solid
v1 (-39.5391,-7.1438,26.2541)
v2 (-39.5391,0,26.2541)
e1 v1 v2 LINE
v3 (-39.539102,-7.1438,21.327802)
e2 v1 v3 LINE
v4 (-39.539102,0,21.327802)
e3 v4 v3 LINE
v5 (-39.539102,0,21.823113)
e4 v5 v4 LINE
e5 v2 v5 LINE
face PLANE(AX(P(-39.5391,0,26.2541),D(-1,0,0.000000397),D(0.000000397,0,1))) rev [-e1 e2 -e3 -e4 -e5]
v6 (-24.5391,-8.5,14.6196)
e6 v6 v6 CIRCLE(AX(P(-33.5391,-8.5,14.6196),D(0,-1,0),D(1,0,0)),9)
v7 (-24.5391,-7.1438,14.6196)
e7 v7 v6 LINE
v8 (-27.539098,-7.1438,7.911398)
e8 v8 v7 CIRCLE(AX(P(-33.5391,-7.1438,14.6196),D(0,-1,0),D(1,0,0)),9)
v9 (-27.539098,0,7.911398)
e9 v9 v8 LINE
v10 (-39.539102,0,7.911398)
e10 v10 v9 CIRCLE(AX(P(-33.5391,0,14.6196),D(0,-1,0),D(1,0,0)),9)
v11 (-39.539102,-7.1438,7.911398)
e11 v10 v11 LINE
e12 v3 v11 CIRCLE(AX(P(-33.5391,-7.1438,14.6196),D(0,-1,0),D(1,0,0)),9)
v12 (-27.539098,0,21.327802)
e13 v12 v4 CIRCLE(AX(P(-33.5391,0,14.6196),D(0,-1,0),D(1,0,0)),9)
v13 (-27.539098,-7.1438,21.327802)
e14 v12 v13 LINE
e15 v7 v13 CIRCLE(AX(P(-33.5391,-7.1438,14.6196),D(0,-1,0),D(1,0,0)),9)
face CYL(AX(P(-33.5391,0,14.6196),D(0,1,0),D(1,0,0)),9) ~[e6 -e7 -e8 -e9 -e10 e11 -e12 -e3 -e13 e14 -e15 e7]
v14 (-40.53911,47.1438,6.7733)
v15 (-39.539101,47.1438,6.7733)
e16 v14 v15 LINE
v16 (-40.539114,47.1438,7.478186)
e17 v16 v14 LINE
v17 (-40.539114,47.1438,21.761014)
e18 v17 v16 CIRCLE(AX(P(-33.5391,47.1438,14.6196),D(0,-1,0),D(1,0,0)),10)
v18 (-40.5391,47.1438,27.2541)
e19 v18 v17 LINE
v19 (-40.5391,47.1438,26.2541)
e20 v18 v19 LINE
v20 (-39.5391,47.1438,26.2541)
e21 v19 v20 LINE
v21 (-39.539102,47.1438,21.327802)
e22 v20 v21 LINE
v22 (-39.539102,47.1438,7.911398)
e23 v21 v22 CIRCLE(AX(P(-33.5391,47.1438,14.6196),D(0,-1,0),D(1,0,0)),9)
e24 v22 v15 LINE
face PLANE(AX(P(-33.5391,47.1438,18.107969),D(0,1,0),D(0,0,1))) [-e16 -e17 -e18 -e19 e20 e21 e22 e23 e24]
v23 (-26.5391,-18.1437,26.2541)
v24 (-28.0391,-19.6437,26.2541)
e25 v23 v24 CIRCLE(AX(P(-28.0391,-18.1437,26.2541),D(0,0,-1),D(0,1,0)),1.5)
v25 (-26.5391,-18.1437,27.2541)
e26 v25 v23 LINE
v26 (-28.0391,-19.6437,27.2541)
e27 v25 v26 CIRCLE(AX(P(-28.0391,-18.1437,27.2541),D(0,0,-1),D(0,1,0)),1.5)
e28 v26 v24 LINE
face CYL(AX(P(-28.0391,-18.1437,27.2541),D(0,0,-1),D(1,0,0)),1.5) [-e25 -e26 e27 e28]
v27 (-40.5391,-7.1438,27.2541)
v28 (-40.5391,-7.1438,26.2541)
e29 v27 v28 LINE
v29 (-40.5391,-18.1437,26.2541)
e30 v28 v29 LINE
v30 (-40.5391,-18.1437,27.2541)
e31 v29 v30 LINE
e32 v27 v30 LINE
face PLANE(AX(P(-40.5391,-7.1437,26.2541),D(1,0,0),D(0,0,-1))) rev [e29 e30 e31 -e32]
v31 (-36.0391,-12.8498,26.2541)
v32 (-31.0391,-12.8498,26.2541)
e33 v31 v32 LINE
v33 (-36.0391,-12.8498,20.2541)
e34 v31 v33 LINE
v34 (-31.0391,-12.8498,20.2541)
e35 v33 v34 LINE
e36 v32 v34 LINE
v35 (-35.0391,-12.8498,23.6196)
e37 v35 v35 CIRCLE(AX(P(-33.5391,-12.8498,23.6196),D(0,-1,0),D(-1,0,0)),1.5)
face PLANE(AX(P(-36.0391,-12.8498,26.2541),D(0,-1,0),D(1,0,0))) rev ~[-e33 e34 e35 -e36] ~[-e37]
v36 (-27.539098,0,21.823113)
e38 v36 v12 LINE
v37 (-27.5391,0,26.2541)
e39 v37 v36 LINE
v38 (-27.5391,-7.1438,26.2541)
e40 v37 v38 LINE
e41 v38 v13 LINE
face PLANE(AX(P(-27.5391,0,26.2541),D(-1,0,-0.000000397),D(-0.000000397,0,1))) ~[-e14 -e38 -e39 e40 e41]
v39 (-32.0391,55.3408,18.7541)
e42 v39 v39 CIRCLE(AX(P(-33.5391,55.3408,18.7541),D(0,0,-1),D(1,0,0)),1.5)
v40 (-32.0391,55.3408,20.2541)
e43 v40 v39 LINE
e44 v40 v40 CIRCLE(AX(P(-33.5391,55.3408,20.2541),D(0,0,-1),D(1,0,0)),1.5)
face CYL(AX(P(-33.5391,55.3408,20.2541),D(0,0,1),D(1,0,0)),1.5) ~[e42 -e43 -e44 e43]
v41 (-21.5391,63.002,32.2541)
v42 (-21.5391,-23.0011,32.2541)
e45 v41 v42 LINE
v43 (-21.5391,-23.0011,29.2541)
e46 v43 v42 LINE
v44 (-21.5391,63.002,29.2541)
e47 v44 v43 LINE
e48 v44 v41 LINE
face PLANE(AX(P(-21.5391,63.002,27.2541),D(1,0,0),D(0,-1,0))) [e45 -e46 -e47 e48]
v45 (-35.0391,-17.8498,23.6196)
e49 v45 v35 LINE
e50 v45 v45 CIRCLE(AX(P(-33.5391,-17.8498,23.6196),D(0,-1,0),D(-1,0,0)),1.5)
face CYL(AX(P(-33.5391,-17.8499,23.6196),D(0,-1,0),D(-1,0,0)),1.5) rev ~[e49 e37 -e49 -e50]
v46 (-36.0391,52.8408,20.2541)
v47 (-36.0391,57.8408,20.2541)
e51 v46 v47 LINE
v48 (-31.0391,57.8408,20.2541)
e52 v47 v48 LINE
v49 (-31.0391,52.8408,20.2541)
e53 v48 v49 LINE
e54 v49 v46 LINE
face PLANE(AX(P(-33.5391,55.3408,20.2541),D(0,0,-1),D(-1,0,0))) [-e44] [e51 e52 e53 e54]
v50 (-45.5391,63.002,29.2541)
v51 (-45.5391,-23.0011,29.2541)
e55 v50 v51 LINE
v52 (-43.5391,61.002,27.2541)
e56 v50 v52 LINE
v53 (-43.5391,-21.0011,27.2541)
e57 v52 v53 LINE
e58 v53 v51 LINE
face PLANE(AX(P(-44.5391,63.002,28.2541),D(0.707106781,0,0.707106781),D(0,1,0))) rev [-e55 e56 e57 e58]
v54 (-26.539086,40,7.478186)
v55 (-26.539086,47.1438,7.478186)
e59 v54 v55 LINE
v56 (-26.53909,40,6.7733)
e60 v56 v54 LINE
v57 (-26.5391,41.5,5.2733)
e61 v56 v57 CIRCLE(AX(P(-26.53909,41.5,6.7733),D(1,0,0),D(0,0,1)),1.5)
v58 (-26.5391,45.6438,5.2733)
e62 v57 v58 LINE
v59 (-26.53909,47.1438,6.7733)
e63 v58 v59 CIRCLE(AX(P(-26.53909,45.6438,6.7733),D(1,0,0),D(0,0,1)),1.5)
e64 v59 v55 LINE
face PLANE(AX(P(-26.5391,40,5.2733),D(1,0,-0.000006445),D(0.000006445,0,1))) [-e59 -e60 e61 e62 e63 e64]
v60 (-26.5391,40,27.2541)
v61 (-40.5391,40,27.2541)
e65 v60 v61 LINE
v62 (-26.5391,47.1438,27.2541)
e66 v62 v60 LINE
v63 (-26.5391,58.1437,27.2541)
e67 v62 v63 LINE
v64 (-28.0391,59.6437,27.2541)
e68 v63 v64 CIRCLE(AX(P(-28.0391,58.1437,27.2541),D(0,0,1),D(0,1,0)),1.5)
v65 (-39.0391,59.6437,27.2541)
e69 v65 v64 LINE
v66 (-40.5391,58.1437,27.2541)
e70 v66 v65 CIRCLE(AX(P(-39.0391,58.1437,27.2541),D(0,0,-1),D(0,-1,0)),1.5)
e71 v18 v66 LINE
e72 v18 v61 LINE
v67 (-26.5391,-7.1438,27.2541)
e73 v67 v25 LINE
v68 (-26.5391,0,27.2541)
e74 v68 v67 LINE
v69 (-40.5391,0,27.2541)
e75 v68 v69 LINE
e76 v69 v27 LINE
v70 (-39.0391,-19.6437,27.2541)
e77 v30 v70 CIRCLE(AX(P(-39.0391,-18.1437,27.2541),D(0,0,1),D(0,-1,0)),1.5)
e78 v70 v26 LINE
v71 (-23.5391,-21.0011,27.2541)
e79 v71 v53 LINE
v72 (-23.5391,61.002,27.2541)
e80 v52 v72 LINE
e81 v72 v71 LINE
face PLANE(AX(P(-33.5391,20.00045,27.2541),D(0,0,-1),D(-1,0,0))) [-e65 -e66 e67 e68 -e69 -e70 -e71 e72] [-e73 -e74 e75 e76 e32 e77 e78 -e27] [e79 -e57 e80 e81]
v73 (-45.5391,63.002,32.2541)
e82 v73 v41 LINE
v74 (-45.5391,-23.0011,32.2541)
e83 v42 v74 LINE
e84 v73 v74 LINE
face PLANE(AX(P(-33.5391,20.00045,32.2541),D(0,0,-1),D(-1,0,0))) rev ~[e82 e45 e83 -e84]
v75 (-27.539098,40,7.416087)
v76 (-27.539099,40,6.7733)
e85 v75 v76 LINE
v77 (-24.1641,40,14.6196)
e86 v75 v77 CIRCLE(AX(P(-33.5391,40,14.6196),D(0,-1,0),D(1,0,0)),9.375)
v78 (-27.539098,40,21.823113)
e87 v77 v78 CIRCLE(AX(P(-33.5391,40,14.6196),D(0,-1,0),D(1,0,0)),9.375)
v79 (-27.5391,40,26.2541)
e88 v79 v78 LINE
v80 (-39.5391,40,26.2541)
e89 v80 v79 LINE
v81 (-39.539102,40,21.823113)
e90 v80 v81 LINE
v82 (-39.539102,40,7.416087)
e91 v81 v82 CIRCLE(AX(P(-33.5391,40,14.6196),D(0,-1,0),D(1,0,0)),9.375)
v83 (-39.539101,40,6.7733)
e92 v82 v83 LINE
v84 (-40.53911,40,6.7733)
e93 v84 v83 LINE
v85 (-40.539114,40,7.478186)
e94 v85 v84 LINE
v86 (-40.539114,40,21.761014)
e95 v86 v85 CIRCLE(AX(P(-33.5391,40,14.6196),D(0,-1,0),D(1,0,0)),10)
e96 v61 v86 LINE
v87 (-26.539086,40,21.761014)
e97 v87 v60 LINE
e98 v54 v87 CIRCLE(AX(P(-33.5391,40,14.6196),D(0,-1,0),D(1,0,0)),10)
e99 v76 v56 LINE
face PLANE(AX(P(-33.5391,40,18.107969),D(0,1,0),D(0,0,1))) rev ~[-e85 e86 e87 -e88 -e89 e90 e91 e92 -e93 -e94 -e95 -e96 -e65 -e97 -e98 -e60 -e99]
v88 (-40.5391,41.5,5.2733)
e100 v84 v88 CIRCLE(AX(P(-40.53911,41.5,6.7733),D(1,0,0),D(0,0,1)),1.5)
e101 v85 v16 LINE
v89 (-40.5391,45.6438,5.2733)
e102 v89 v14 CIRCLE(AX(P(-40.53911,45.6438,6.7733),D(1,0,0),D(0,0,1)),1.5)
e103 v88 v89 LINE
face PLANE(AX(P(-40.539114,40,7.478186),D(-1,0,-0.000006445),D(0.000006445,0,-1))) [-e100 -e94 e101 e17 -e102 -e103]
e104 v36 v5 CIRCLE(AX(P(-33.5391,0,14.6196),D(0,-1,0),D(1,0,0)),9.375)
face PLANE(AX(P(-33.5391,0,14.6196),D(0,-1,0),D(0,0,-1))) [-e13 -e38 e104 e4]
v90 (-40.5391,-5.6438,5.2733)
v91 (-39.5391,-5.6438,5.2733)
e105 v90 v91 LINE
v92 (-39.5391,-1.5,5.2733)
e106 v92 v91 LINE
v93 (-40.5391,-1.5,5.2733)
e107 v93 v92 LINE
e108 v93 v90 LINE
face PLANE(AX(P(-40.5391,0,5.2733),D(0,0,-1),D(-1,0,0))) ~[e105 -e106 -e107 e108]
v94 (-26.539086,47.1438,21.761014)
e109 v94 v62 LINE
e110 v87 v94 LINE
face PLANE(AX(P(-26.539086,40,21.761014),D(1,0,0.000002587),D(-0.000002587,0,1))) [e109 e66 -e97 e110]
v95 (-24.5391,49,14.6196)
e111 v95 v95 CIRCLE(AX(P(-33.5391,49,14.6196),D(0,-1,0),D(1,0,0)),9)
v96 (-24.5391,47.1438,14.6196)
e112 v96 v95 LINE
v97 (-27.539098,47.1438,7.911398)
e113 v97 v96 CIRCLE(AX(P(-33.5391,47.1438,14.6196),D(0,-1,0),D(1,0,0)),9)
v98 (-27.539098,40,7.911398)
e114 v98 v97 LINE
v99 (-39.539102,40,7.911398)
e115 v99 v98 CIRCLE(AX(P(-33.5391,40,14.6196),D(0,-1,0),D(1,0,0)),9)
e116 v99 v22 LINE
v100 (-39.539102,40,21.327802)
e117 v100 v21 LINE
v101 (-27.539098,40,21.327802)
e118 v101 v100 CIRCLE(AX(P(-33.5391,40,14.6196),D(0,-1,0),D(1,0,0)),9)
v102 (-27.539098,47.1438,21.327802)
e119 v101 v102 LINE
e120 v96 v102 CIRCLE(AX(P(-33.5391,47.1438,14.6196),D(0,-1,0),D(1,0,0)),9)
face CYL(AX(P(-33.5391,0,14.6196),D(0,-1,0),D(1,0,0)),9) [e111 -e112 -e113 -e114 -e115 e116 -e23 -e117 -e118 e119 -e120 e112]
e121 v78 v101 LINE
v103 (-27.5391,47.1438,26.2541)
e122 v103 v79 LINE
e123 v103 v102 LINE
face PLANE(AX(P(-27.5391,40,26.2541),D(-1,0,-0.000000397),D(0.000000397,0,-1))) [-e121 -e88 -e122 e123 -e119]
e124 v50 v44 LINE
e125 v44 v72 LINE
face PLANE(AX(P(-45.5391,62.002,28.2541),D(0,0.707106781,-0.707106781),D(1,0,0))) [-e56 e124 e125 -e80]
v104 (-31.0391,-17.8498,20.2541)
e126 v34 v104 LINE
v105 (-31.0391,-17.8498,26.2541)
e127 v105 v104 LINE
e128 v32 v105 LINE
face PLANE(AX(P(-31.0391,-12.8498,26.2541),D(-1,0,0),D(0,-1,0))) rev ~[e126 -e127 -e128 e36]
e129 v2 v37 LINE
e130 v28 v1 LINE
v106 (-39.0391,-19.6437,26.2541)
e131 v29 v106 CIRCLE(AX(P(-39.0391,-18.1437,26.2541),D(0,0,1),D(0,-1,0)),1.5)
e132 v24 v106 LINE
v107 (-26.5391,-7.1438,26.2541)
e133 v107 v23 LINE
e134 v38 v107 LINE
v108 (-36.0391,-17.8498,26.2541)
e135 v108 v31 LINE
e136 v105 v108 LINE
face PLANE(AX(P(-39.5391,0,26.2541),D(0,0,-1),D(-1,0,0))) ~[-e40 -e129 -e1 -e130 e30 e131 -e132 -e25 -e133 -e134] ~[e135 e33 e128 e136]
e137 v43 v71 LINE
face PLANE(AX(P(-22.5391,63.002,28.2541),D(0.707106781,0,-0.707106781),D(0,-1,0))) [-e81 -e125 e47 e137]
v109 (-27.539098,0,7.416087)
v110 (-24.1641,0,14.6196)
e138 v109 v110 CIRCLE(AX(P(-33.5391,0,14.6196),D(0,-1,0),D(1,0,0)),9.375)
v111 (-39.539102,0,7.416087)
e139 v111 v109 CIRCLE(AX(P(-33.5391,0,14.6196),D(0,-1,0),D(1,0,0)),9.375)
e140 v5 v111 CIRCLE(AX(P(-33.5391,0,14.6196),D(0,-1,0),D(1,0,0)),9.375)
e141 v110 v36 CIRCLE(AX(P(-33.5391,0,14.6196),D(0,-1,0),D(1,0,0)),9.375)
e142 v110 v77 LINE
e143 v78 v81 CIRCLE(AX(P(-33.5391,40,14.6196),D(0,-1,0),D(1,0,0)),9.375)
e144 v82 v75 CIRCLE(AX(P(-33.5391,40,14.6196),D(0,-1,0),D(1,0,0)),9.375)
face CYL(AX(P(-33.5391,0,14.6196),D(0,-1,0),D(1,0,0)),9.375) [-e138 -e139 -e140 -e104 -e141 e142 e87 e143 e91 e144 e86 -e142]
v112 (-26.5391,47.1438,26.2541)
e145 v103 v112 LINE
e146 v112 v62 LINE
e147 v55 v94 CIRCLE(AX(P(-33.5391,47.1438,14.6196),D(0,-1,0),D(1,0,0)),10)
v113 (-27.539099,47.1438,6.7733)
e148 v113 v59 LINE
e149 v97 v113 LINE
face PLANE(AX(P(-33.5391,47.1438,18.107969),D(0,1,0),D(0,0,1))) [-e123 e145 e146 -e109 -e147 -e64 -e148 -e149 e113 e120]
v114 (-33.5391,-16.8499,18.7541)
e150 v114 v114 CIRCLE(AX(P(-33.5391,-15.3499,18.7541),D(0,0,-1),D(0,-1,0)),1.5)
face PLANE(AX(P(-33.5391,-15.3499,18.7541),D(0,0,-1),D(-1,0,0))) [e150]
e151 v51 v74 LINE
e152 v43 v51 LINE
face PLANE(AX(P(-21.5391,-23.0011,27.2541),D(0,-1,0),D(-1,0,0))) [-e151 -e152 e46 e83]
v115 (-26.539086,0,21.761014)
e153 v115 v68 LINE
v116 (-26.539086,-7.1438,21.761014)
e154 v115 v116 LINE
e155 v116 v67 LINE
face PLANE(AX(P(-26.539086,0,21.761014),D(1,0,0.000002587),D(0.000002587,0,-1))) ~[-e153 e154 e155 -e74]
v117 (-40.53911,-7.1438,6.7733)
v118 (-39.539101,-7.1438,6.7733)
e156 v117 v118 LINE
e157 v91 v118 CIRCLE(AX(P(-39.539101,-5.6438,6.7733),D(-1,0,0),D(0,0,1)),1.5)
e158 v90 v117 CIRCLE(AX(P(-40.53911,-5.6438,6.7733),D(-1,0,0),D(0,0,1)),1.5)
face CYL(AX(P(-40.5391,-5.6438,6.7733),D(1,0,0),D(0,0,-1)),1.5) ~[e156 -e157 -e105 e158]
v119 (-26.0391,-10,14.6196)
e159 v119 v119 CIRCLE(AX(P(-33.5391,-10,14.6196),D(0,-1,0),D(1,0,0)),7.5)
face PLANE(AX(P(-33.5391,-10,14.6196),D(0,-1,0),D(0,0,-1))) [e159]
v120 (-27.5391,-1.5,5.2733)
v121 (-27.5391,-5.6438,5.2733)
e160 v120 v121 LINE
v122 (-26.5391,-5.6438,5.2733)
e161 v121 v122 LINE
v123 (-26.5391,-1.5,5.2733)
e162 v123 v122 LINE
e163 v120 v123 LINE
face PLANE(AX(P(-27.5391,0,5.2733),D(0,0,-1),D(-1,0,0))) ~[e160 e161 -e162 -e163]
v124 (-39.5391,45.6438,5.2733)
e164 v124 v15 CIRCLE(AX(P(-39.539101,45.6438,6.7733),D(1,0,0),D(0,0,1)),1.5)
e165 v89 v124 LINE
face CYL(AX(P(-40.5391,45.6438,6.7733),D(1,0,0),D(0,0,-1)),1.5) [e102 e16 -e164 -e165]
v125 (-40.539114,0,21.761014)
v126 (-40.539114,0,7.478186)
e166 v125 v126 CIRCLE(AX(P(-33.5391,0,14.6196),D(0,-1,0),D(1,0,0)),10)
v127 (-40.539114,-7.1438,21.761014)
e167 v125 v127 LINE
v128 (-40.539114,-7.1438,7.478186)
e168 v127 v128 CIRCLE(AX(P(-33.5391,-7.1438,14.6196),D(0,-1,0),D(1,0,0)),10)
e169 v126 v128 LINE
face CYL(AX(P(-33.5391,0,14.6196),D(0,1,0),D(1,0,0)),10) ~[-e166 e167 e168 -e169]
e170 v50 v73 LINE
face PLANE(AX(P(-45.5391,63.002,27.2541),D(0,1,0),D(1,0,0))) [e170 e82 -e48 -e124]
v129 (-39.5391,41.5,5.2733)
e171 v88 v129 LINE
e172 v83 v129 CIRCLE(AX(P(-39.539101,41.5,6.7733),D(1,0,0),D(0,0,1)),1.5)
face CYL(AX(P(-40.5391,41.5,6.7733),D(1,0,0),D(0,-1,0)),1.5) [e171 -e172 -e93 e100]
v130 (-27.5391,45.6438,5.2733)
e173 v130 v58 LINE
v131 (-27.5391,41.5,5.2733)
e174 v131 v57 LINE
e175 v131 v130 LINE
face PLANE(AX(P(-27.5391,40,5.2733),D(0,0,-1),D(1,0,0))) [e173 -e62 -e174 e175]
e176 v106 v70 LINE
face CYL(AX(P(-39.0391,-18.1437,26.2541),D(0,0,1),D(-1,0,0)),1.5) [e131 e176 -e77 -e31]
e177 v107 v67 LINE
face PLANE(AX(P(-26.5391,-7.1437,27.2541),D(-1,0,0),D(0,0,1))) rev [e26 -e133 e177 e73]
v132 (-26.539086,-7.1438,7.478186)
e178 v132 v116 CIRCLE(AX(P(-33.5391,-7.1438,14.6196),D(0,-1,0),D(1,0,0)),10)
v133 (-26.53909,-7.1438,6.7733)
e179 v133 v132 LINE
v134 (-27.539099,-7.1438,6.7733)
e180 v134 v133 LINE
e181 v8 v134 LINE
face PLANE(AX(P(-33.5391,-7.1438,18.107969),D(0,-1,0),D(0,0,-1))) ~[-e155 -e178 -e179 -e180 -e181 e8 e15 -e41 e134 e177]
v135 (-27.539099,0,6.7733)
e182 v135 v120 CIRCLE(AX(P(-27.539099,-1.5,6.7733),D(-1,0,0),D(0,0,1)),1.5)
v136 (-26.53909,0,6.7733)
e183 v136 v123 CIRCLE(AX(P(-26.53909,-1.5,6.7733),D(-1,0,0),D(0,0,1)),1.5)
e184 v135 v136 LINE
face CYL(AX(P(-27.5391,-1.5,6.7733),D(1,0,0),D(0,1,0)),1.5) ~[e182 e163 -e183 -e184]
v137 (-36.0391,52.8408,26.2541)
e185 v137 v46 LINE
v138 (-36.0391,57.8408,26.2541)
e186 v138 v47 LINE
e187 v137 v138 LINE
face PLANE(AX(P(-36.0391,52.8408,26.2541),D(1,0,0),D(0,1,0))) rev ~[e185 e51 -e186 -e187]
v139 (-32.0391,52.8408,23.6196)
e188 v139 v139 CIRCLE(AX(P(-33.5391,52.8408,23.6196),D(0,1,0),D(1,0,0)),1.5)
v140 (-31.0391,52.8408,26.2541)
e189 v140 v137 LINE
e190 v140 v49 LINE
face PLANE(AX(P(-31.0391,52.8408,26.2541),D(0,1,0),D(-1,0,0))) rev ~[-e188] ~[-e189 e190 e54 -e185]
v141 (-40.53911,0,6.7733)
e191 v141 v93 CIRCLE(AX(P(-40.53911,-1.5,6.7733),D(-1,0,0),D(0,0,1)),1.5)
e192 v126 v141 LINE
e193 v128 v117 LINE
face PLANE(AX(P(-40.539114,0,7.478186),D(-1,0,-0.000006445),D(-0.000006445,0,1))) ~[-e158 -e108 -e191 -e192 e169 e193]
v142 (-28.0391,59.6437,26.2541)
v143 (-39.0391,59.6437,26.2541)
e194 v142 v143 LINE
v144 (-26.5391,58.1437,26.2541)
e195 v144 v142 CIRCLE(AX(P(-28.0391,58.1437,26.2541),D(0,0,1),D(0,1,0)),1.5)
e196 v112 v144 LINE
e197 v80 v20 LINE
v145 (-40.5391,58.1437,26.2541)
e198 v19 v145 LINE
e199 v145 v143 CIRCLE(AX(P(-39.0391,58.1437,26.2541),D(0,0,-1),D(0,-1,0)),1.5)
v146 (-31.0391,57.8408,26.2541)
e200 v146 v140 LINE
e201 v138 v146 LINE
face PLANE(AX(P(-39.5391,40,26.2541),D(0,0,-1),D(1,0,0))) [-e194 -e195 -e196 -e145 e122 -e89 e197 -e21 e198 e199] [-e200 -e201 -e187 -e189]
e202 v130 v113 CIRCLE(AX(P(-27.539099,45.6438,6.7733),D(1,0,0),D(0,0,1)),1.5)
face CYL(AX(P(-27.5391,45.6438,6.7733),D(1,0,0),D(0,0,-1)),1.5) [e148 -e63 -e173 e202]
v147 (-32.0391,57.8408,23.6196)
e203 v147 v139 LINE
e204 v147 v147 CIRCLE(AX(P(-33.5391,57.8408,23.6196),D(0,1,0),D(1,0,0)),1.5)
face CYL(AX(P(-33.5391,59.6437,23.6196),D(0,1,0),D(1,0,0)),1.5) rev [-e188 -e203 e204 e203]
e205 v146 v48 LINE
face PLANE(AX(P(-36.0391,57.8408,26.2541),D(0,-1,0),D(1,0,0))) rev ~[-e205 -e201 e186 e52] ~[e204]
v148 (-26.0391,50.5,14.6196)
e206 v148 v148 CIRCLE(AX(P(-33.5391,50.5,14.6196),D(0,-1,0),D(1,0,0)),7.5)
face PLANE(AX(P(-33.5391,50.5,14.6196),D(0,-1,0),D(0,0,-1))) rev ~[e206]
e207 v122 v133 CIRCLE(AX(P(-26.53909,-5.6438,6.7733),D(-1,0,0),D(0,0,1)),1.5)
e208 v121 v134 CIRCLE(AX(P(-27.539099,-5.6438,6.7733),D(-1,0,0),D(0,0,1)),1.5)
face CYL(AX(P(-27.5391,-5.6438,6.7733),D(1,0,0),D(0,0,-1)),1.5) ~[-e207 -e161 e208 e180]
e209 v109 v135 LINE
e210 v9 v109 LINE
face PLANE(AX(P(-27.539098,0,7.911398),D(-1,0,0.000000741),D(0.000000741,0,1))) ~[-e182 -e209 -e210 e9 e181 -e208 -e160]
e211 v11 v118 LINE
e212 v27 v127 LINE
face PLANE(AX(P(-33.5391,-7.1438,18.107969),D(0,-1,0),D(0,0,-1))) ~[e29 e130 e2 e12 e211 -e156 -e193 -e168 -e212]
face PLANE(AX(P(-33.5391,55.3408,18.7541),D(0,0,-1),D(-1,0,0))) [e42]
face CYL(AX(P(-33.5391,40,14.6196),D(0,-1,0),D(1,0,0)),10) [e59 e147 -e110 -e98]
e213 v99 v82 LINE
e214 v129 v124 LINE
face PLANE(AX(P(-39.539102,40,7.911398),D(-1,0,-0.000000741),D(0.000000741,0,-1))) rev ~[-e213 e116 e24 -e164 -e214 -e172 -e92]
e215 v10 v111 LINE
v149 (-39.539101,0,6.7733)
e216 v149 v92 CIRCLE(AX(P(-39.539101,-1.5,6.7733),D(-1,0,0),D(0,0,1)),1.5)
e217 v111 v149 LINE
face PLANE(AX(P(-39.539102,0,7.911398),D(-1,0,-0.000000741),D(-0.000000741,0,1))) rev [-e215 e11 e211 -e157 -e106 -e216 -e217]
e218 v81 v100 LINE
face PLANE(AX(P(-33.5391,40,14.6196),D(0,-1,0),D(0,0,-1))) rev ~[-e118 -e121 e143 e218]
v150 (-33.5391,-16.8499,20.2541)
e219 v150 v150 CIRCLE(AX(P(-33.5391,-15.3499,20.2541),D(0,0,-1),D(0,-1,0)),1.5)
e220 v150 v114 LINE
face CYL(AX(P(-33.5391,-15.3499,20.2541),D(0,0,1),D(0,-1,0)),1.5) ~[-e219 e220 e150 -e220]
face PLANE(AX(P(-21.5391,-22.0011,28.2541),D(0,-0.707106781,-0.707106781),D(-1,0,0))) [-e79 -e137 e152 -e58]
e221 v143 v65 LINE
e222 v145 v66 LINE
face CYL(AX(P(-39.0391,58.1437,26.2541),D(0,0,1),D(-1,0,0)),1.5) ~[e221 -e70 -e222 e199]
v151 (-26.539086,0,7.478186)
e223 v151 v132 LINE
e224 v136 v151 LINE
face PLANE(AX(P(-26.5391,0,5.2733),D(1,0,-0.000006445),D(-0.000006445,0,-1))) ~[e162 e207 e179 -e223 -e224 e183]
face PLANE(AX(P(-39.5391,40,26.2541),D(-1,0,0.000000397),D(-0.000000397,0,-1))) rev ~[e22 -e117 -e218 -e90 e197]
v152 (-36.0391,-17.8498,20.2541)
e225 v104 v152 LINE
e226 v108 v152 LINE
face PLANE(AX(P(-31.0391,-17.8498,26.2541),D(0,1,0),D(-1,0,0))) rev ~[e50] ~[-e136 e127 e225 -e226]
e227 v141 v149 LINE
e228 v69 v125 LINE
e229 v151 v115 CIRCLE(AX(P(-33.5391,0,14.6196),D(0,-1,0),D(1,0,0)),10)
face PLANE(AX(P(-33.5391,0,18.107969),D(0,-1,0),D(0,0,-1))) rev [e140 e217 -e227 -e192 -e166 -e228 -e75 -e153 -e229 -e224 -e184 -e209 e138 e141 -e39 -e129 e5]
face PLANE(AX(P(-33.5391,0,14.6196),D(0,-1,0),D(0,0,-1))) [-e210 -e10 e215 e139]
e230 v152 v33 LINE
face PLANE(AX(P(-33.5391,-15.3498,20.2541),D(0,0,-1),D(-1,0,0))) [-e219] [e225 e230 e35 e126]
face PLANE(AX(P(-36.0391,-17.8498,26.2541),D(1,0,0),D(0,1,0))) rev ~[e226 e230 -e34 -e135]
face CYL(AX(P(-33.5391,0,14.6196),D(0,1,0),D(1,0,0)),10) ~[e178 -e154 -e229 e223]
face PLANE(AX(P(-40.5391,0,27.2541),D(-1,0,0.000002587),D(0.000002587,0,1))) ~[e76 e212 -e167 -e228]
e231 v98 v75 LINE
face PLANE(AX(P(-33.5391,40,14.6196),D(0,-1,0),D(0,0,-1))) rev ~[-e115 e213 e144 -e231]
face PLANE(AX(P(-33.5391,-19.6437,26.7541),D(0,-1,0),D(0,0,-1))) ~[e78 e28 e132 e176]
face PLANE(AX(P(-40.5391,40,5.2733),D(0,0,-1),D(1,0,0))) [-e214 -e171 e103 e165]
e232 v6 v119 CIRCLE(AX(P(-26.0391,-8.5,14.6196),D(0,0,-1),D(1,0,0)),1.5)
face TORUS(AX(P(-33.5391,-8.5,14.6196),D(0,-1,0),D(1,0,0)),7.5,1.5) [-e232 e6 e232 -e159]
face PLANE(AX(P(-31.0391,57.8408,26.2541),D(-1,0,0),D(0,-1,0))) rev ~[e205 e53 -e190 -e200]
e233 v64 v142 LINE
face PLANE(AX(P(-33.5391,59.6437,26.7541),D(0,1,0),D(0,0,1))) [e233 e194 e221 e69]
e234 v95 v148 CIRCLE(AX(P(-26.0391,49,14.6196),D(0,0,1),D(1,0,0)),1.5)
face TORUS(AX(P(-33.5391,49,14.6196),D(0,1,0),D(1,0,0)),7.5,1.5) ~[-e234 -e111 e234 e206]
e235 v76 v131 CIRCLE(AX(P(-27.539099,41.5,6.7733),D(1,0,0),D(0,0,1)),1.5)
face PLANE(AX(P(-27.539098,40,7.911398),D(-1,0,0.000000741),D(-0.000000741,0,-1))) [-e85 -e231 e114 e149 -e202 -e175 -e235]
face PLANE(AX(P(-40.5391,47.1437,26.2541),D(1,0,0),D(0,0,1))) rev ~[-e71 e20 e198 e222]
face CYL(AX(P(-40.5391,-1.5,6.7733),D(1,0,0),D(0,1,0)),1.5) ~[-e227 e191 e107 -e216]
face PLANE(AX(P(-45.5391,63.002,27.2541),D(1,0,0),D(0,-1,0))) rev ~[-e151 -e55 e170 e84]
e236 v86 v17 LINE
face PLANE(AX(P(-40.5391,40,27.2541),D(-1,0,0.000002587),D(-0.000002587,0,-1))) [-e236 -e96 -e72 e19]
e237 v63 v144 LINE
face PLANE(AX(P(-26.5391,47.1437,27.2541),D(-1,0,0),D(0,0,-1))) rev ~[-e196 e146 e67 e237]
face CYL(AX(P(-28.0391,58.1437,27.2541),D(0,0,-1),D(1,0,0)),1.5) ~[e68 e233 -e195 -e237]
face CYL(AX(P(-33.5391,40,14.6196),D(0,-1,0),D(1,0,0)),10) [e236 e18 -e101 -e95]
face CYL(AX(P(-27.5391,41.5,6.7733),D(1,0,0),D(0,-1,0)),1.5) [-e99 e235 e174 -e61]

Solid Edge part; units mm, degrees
sketch "Sketch1" plane through (0, 0, 0) normal (0, -1, 0) x (1, 0, 0)
  circle A0 centre (-33.5391, 14.6196) radius 9.375
extrude "Protrusion1" add sketch "Sketch1" against normal blind 40
sketch "Sketch2" plane through (-33.5391, 0, 14.6196) normal (0, -1, 0) x (1, 0, 0)
  circle A0 centre (0, 0) radius 9
extrude "ExtrudedProtrusion_2" add sketch "Sketch2" along normal blind 10 and the other way blind 50.5
fillet "Round_1" radius 1.5 2 edges at (-42.5391, -10, 14.6196) (-42.5391, 50.5, 14.6196)
sketch "Sketch3" plane through (-33.5391, 40, 14.6196) normal (0, 1, 0) x (1, 0, 0)
  line L0 (-6, -11.6345) -> (-6, -6.7082)
  arc A0 (-6, -6.7082) -> (-6, 6.7082) centre (0, 0) cw
  line L1 (-6, 6.7082) -> (-6, 9.3463)
  line L2 (-7, 9.3463) -> (-6, 9.3463)
  line L3 (-7, 7.1414) -> (-7, 9.3463)
  arc A1 (-7, -7.1414) -> (-7, 7.1414) centre (0, 0) cw
  line L4 (-7, -12.6345) -> (-7, -7.1414)
  line L5 (7, -12.6345) -> (-7, -12.6345)
  line L6 (7, -7.1414) -> (7, -12.6345)
  arc A2 (7, 7.1414) -> (7, -7.1414) centre (0, 0) cw
  line L7 (7, 9.3463) -> (7, 7.1414)
  line L8 (6, 9.3463) -> (7, 9.3463)
  line L9 (6, 6.7082) -> (6, 9.3463)
  line L10 (6, -11.6345) -> (6, -6.7082)
  line L11 (-6, -11.6345) -> (6, -11.6345)
  arc A3 (6, 6.7082) -> (6, -6.7082) centre (0, 0) cw
extrude "ExtrudedProtrusion_3" add sketch "Sketch3" along normal blind 7.1438
sketch "Sketch4" plane through (-33.5391, 47.1437, 16.2637) normal (0, 1, 0) x (1, 0, 0)
  line L0 (7, -9.9904) -> (-7, -9.9904)
  line L1 (-7, -9.9904) -> (-7, -10.9904)
  line L2 (-7, -10.9904) -> (7, -10.9904)
  line L3 (7, -10.9904) -> (7, -9.9904)
extrude "ExtrudedProtrusion_4" add sketch "Sketch4" along normal blind 12.5
fillet "Round_2" radius 1.5 6 edges at (-40.0391, 47.1437, 5.2733) (-40.0391, 40, 5.2733) (-27.0391, 40, 5.2733) (-27.0391, 47.1437, 5.2733) (-26.5391, 59.6437, 26.7541) (-40.5391, 59.6437, 26.7541)
mirror "Mirror1" about plane through (0, 20, 0) normal (0, -1, 0) of "ExtrudedProtrusion_4", "ExtrudedProtrusion_3"
fillet "Round1" radius 1.5 6 edges at (-40.0391, -7.1438, 5.2733) (-40.0391, 0, 5.2733) (-27.0391, 0, 5.2733) (-27.0391, -7.1438, 5.2733) (-26.5391, -19.6437, 26.7541) (-40.5391, -19.6437, 26.7541)
sketch "Sketch5" plane through (-33.5391, 49.8219, 27.2541) normal (0, 0, 1) x (1, 0, 0)
  line L0 (12, 13.1801) -> (12, -72.823)
  line L1 (12, -72.823) -> (-12, -72.823)
  line L2 (-12, 13.1801) -> (-12, -72.823)
  line L3 (-12, 13.1801) -> (12, 13.1801)
  dimension "D1" = 24
extrude "ExtrudedProtrusion_7" add sketch "Sketch5" along normal blind 5
chamfer "Chamfer_1" distance 2 angle 45 4 edges at (-33.5391, 63.002, 27.2541) (-45.5391, 20.0004, 27.2541) (-33.5391, -23.0011, 27.2541) (-21.5391, 20.0004, 27.2541)
sketch "Sketch6" plane through (-33.5391, 49.8219, 26.2541) normal (0, 0, -1) x (0, -1, 0)
  line L0 (62.6717, 2.5) -> (62.6717, -2.5)
  line L1 (62.6717, -2.5) -> (67.6717, -2.5)
  line L2 (67.6717, -2.5) -> (67.6717, 2.5)
  line L3 (67.6717, 2.5) -> (62.6717, 2.5)
  line L4 (-8.0189, 2.5) -> (-8.0189, -2.5)
  line L5 (-8.0189, -2.5) -> (-3.0189, -2.5)
  line L6 (-3.0189, -2.5) -> (-3.0189, 2.5)
  line L7 (-3.0189, 2.5) -> (-8.0189, 2.5)
extrude "ExtrudedProtrusion_8" add sketch "Sketch6" along normal blind 6
sketch "Sketch7" plane through (0, 59.6437, 0) normal (0, -1, 0) x (1, 0, 0)
  circle A0 centre (-33.5391, 23.6196) radius 1.5
extrude "Cutout1" cut sketch "Sketch7" along normal up to next
sketch "Sketch8" plane through (-33.5391, 55.3408, 20.2541) normal (0, 0, -1) x (1, 0, 0)
  circle A0 centre (0, 0) radius 1.5
extrude "ExtrudedProtrusion_9" add sketch "Sketch8" along normal blind 1.5
sketch "Sketch9" plane through (-33.5391, -17.8499, 23.2541) normal (0, -1, 0) x (-1, 0, 0)
  circle A0 centre (0, -0.3655) radius 1.5
extrude "Cutout2" cut sketch "Sketch9" against normal up to next
sketch "Sketch10" plane through (-33.5391, -15.3499, 20.2541) normal (0, 0, -1) x (0, -1, 0)
  circle A0 centre (0, 0) radius 1.5
extrude "ExtrudedProtrusion_10" add sketch "Sketch10" along normal blind 1.5
